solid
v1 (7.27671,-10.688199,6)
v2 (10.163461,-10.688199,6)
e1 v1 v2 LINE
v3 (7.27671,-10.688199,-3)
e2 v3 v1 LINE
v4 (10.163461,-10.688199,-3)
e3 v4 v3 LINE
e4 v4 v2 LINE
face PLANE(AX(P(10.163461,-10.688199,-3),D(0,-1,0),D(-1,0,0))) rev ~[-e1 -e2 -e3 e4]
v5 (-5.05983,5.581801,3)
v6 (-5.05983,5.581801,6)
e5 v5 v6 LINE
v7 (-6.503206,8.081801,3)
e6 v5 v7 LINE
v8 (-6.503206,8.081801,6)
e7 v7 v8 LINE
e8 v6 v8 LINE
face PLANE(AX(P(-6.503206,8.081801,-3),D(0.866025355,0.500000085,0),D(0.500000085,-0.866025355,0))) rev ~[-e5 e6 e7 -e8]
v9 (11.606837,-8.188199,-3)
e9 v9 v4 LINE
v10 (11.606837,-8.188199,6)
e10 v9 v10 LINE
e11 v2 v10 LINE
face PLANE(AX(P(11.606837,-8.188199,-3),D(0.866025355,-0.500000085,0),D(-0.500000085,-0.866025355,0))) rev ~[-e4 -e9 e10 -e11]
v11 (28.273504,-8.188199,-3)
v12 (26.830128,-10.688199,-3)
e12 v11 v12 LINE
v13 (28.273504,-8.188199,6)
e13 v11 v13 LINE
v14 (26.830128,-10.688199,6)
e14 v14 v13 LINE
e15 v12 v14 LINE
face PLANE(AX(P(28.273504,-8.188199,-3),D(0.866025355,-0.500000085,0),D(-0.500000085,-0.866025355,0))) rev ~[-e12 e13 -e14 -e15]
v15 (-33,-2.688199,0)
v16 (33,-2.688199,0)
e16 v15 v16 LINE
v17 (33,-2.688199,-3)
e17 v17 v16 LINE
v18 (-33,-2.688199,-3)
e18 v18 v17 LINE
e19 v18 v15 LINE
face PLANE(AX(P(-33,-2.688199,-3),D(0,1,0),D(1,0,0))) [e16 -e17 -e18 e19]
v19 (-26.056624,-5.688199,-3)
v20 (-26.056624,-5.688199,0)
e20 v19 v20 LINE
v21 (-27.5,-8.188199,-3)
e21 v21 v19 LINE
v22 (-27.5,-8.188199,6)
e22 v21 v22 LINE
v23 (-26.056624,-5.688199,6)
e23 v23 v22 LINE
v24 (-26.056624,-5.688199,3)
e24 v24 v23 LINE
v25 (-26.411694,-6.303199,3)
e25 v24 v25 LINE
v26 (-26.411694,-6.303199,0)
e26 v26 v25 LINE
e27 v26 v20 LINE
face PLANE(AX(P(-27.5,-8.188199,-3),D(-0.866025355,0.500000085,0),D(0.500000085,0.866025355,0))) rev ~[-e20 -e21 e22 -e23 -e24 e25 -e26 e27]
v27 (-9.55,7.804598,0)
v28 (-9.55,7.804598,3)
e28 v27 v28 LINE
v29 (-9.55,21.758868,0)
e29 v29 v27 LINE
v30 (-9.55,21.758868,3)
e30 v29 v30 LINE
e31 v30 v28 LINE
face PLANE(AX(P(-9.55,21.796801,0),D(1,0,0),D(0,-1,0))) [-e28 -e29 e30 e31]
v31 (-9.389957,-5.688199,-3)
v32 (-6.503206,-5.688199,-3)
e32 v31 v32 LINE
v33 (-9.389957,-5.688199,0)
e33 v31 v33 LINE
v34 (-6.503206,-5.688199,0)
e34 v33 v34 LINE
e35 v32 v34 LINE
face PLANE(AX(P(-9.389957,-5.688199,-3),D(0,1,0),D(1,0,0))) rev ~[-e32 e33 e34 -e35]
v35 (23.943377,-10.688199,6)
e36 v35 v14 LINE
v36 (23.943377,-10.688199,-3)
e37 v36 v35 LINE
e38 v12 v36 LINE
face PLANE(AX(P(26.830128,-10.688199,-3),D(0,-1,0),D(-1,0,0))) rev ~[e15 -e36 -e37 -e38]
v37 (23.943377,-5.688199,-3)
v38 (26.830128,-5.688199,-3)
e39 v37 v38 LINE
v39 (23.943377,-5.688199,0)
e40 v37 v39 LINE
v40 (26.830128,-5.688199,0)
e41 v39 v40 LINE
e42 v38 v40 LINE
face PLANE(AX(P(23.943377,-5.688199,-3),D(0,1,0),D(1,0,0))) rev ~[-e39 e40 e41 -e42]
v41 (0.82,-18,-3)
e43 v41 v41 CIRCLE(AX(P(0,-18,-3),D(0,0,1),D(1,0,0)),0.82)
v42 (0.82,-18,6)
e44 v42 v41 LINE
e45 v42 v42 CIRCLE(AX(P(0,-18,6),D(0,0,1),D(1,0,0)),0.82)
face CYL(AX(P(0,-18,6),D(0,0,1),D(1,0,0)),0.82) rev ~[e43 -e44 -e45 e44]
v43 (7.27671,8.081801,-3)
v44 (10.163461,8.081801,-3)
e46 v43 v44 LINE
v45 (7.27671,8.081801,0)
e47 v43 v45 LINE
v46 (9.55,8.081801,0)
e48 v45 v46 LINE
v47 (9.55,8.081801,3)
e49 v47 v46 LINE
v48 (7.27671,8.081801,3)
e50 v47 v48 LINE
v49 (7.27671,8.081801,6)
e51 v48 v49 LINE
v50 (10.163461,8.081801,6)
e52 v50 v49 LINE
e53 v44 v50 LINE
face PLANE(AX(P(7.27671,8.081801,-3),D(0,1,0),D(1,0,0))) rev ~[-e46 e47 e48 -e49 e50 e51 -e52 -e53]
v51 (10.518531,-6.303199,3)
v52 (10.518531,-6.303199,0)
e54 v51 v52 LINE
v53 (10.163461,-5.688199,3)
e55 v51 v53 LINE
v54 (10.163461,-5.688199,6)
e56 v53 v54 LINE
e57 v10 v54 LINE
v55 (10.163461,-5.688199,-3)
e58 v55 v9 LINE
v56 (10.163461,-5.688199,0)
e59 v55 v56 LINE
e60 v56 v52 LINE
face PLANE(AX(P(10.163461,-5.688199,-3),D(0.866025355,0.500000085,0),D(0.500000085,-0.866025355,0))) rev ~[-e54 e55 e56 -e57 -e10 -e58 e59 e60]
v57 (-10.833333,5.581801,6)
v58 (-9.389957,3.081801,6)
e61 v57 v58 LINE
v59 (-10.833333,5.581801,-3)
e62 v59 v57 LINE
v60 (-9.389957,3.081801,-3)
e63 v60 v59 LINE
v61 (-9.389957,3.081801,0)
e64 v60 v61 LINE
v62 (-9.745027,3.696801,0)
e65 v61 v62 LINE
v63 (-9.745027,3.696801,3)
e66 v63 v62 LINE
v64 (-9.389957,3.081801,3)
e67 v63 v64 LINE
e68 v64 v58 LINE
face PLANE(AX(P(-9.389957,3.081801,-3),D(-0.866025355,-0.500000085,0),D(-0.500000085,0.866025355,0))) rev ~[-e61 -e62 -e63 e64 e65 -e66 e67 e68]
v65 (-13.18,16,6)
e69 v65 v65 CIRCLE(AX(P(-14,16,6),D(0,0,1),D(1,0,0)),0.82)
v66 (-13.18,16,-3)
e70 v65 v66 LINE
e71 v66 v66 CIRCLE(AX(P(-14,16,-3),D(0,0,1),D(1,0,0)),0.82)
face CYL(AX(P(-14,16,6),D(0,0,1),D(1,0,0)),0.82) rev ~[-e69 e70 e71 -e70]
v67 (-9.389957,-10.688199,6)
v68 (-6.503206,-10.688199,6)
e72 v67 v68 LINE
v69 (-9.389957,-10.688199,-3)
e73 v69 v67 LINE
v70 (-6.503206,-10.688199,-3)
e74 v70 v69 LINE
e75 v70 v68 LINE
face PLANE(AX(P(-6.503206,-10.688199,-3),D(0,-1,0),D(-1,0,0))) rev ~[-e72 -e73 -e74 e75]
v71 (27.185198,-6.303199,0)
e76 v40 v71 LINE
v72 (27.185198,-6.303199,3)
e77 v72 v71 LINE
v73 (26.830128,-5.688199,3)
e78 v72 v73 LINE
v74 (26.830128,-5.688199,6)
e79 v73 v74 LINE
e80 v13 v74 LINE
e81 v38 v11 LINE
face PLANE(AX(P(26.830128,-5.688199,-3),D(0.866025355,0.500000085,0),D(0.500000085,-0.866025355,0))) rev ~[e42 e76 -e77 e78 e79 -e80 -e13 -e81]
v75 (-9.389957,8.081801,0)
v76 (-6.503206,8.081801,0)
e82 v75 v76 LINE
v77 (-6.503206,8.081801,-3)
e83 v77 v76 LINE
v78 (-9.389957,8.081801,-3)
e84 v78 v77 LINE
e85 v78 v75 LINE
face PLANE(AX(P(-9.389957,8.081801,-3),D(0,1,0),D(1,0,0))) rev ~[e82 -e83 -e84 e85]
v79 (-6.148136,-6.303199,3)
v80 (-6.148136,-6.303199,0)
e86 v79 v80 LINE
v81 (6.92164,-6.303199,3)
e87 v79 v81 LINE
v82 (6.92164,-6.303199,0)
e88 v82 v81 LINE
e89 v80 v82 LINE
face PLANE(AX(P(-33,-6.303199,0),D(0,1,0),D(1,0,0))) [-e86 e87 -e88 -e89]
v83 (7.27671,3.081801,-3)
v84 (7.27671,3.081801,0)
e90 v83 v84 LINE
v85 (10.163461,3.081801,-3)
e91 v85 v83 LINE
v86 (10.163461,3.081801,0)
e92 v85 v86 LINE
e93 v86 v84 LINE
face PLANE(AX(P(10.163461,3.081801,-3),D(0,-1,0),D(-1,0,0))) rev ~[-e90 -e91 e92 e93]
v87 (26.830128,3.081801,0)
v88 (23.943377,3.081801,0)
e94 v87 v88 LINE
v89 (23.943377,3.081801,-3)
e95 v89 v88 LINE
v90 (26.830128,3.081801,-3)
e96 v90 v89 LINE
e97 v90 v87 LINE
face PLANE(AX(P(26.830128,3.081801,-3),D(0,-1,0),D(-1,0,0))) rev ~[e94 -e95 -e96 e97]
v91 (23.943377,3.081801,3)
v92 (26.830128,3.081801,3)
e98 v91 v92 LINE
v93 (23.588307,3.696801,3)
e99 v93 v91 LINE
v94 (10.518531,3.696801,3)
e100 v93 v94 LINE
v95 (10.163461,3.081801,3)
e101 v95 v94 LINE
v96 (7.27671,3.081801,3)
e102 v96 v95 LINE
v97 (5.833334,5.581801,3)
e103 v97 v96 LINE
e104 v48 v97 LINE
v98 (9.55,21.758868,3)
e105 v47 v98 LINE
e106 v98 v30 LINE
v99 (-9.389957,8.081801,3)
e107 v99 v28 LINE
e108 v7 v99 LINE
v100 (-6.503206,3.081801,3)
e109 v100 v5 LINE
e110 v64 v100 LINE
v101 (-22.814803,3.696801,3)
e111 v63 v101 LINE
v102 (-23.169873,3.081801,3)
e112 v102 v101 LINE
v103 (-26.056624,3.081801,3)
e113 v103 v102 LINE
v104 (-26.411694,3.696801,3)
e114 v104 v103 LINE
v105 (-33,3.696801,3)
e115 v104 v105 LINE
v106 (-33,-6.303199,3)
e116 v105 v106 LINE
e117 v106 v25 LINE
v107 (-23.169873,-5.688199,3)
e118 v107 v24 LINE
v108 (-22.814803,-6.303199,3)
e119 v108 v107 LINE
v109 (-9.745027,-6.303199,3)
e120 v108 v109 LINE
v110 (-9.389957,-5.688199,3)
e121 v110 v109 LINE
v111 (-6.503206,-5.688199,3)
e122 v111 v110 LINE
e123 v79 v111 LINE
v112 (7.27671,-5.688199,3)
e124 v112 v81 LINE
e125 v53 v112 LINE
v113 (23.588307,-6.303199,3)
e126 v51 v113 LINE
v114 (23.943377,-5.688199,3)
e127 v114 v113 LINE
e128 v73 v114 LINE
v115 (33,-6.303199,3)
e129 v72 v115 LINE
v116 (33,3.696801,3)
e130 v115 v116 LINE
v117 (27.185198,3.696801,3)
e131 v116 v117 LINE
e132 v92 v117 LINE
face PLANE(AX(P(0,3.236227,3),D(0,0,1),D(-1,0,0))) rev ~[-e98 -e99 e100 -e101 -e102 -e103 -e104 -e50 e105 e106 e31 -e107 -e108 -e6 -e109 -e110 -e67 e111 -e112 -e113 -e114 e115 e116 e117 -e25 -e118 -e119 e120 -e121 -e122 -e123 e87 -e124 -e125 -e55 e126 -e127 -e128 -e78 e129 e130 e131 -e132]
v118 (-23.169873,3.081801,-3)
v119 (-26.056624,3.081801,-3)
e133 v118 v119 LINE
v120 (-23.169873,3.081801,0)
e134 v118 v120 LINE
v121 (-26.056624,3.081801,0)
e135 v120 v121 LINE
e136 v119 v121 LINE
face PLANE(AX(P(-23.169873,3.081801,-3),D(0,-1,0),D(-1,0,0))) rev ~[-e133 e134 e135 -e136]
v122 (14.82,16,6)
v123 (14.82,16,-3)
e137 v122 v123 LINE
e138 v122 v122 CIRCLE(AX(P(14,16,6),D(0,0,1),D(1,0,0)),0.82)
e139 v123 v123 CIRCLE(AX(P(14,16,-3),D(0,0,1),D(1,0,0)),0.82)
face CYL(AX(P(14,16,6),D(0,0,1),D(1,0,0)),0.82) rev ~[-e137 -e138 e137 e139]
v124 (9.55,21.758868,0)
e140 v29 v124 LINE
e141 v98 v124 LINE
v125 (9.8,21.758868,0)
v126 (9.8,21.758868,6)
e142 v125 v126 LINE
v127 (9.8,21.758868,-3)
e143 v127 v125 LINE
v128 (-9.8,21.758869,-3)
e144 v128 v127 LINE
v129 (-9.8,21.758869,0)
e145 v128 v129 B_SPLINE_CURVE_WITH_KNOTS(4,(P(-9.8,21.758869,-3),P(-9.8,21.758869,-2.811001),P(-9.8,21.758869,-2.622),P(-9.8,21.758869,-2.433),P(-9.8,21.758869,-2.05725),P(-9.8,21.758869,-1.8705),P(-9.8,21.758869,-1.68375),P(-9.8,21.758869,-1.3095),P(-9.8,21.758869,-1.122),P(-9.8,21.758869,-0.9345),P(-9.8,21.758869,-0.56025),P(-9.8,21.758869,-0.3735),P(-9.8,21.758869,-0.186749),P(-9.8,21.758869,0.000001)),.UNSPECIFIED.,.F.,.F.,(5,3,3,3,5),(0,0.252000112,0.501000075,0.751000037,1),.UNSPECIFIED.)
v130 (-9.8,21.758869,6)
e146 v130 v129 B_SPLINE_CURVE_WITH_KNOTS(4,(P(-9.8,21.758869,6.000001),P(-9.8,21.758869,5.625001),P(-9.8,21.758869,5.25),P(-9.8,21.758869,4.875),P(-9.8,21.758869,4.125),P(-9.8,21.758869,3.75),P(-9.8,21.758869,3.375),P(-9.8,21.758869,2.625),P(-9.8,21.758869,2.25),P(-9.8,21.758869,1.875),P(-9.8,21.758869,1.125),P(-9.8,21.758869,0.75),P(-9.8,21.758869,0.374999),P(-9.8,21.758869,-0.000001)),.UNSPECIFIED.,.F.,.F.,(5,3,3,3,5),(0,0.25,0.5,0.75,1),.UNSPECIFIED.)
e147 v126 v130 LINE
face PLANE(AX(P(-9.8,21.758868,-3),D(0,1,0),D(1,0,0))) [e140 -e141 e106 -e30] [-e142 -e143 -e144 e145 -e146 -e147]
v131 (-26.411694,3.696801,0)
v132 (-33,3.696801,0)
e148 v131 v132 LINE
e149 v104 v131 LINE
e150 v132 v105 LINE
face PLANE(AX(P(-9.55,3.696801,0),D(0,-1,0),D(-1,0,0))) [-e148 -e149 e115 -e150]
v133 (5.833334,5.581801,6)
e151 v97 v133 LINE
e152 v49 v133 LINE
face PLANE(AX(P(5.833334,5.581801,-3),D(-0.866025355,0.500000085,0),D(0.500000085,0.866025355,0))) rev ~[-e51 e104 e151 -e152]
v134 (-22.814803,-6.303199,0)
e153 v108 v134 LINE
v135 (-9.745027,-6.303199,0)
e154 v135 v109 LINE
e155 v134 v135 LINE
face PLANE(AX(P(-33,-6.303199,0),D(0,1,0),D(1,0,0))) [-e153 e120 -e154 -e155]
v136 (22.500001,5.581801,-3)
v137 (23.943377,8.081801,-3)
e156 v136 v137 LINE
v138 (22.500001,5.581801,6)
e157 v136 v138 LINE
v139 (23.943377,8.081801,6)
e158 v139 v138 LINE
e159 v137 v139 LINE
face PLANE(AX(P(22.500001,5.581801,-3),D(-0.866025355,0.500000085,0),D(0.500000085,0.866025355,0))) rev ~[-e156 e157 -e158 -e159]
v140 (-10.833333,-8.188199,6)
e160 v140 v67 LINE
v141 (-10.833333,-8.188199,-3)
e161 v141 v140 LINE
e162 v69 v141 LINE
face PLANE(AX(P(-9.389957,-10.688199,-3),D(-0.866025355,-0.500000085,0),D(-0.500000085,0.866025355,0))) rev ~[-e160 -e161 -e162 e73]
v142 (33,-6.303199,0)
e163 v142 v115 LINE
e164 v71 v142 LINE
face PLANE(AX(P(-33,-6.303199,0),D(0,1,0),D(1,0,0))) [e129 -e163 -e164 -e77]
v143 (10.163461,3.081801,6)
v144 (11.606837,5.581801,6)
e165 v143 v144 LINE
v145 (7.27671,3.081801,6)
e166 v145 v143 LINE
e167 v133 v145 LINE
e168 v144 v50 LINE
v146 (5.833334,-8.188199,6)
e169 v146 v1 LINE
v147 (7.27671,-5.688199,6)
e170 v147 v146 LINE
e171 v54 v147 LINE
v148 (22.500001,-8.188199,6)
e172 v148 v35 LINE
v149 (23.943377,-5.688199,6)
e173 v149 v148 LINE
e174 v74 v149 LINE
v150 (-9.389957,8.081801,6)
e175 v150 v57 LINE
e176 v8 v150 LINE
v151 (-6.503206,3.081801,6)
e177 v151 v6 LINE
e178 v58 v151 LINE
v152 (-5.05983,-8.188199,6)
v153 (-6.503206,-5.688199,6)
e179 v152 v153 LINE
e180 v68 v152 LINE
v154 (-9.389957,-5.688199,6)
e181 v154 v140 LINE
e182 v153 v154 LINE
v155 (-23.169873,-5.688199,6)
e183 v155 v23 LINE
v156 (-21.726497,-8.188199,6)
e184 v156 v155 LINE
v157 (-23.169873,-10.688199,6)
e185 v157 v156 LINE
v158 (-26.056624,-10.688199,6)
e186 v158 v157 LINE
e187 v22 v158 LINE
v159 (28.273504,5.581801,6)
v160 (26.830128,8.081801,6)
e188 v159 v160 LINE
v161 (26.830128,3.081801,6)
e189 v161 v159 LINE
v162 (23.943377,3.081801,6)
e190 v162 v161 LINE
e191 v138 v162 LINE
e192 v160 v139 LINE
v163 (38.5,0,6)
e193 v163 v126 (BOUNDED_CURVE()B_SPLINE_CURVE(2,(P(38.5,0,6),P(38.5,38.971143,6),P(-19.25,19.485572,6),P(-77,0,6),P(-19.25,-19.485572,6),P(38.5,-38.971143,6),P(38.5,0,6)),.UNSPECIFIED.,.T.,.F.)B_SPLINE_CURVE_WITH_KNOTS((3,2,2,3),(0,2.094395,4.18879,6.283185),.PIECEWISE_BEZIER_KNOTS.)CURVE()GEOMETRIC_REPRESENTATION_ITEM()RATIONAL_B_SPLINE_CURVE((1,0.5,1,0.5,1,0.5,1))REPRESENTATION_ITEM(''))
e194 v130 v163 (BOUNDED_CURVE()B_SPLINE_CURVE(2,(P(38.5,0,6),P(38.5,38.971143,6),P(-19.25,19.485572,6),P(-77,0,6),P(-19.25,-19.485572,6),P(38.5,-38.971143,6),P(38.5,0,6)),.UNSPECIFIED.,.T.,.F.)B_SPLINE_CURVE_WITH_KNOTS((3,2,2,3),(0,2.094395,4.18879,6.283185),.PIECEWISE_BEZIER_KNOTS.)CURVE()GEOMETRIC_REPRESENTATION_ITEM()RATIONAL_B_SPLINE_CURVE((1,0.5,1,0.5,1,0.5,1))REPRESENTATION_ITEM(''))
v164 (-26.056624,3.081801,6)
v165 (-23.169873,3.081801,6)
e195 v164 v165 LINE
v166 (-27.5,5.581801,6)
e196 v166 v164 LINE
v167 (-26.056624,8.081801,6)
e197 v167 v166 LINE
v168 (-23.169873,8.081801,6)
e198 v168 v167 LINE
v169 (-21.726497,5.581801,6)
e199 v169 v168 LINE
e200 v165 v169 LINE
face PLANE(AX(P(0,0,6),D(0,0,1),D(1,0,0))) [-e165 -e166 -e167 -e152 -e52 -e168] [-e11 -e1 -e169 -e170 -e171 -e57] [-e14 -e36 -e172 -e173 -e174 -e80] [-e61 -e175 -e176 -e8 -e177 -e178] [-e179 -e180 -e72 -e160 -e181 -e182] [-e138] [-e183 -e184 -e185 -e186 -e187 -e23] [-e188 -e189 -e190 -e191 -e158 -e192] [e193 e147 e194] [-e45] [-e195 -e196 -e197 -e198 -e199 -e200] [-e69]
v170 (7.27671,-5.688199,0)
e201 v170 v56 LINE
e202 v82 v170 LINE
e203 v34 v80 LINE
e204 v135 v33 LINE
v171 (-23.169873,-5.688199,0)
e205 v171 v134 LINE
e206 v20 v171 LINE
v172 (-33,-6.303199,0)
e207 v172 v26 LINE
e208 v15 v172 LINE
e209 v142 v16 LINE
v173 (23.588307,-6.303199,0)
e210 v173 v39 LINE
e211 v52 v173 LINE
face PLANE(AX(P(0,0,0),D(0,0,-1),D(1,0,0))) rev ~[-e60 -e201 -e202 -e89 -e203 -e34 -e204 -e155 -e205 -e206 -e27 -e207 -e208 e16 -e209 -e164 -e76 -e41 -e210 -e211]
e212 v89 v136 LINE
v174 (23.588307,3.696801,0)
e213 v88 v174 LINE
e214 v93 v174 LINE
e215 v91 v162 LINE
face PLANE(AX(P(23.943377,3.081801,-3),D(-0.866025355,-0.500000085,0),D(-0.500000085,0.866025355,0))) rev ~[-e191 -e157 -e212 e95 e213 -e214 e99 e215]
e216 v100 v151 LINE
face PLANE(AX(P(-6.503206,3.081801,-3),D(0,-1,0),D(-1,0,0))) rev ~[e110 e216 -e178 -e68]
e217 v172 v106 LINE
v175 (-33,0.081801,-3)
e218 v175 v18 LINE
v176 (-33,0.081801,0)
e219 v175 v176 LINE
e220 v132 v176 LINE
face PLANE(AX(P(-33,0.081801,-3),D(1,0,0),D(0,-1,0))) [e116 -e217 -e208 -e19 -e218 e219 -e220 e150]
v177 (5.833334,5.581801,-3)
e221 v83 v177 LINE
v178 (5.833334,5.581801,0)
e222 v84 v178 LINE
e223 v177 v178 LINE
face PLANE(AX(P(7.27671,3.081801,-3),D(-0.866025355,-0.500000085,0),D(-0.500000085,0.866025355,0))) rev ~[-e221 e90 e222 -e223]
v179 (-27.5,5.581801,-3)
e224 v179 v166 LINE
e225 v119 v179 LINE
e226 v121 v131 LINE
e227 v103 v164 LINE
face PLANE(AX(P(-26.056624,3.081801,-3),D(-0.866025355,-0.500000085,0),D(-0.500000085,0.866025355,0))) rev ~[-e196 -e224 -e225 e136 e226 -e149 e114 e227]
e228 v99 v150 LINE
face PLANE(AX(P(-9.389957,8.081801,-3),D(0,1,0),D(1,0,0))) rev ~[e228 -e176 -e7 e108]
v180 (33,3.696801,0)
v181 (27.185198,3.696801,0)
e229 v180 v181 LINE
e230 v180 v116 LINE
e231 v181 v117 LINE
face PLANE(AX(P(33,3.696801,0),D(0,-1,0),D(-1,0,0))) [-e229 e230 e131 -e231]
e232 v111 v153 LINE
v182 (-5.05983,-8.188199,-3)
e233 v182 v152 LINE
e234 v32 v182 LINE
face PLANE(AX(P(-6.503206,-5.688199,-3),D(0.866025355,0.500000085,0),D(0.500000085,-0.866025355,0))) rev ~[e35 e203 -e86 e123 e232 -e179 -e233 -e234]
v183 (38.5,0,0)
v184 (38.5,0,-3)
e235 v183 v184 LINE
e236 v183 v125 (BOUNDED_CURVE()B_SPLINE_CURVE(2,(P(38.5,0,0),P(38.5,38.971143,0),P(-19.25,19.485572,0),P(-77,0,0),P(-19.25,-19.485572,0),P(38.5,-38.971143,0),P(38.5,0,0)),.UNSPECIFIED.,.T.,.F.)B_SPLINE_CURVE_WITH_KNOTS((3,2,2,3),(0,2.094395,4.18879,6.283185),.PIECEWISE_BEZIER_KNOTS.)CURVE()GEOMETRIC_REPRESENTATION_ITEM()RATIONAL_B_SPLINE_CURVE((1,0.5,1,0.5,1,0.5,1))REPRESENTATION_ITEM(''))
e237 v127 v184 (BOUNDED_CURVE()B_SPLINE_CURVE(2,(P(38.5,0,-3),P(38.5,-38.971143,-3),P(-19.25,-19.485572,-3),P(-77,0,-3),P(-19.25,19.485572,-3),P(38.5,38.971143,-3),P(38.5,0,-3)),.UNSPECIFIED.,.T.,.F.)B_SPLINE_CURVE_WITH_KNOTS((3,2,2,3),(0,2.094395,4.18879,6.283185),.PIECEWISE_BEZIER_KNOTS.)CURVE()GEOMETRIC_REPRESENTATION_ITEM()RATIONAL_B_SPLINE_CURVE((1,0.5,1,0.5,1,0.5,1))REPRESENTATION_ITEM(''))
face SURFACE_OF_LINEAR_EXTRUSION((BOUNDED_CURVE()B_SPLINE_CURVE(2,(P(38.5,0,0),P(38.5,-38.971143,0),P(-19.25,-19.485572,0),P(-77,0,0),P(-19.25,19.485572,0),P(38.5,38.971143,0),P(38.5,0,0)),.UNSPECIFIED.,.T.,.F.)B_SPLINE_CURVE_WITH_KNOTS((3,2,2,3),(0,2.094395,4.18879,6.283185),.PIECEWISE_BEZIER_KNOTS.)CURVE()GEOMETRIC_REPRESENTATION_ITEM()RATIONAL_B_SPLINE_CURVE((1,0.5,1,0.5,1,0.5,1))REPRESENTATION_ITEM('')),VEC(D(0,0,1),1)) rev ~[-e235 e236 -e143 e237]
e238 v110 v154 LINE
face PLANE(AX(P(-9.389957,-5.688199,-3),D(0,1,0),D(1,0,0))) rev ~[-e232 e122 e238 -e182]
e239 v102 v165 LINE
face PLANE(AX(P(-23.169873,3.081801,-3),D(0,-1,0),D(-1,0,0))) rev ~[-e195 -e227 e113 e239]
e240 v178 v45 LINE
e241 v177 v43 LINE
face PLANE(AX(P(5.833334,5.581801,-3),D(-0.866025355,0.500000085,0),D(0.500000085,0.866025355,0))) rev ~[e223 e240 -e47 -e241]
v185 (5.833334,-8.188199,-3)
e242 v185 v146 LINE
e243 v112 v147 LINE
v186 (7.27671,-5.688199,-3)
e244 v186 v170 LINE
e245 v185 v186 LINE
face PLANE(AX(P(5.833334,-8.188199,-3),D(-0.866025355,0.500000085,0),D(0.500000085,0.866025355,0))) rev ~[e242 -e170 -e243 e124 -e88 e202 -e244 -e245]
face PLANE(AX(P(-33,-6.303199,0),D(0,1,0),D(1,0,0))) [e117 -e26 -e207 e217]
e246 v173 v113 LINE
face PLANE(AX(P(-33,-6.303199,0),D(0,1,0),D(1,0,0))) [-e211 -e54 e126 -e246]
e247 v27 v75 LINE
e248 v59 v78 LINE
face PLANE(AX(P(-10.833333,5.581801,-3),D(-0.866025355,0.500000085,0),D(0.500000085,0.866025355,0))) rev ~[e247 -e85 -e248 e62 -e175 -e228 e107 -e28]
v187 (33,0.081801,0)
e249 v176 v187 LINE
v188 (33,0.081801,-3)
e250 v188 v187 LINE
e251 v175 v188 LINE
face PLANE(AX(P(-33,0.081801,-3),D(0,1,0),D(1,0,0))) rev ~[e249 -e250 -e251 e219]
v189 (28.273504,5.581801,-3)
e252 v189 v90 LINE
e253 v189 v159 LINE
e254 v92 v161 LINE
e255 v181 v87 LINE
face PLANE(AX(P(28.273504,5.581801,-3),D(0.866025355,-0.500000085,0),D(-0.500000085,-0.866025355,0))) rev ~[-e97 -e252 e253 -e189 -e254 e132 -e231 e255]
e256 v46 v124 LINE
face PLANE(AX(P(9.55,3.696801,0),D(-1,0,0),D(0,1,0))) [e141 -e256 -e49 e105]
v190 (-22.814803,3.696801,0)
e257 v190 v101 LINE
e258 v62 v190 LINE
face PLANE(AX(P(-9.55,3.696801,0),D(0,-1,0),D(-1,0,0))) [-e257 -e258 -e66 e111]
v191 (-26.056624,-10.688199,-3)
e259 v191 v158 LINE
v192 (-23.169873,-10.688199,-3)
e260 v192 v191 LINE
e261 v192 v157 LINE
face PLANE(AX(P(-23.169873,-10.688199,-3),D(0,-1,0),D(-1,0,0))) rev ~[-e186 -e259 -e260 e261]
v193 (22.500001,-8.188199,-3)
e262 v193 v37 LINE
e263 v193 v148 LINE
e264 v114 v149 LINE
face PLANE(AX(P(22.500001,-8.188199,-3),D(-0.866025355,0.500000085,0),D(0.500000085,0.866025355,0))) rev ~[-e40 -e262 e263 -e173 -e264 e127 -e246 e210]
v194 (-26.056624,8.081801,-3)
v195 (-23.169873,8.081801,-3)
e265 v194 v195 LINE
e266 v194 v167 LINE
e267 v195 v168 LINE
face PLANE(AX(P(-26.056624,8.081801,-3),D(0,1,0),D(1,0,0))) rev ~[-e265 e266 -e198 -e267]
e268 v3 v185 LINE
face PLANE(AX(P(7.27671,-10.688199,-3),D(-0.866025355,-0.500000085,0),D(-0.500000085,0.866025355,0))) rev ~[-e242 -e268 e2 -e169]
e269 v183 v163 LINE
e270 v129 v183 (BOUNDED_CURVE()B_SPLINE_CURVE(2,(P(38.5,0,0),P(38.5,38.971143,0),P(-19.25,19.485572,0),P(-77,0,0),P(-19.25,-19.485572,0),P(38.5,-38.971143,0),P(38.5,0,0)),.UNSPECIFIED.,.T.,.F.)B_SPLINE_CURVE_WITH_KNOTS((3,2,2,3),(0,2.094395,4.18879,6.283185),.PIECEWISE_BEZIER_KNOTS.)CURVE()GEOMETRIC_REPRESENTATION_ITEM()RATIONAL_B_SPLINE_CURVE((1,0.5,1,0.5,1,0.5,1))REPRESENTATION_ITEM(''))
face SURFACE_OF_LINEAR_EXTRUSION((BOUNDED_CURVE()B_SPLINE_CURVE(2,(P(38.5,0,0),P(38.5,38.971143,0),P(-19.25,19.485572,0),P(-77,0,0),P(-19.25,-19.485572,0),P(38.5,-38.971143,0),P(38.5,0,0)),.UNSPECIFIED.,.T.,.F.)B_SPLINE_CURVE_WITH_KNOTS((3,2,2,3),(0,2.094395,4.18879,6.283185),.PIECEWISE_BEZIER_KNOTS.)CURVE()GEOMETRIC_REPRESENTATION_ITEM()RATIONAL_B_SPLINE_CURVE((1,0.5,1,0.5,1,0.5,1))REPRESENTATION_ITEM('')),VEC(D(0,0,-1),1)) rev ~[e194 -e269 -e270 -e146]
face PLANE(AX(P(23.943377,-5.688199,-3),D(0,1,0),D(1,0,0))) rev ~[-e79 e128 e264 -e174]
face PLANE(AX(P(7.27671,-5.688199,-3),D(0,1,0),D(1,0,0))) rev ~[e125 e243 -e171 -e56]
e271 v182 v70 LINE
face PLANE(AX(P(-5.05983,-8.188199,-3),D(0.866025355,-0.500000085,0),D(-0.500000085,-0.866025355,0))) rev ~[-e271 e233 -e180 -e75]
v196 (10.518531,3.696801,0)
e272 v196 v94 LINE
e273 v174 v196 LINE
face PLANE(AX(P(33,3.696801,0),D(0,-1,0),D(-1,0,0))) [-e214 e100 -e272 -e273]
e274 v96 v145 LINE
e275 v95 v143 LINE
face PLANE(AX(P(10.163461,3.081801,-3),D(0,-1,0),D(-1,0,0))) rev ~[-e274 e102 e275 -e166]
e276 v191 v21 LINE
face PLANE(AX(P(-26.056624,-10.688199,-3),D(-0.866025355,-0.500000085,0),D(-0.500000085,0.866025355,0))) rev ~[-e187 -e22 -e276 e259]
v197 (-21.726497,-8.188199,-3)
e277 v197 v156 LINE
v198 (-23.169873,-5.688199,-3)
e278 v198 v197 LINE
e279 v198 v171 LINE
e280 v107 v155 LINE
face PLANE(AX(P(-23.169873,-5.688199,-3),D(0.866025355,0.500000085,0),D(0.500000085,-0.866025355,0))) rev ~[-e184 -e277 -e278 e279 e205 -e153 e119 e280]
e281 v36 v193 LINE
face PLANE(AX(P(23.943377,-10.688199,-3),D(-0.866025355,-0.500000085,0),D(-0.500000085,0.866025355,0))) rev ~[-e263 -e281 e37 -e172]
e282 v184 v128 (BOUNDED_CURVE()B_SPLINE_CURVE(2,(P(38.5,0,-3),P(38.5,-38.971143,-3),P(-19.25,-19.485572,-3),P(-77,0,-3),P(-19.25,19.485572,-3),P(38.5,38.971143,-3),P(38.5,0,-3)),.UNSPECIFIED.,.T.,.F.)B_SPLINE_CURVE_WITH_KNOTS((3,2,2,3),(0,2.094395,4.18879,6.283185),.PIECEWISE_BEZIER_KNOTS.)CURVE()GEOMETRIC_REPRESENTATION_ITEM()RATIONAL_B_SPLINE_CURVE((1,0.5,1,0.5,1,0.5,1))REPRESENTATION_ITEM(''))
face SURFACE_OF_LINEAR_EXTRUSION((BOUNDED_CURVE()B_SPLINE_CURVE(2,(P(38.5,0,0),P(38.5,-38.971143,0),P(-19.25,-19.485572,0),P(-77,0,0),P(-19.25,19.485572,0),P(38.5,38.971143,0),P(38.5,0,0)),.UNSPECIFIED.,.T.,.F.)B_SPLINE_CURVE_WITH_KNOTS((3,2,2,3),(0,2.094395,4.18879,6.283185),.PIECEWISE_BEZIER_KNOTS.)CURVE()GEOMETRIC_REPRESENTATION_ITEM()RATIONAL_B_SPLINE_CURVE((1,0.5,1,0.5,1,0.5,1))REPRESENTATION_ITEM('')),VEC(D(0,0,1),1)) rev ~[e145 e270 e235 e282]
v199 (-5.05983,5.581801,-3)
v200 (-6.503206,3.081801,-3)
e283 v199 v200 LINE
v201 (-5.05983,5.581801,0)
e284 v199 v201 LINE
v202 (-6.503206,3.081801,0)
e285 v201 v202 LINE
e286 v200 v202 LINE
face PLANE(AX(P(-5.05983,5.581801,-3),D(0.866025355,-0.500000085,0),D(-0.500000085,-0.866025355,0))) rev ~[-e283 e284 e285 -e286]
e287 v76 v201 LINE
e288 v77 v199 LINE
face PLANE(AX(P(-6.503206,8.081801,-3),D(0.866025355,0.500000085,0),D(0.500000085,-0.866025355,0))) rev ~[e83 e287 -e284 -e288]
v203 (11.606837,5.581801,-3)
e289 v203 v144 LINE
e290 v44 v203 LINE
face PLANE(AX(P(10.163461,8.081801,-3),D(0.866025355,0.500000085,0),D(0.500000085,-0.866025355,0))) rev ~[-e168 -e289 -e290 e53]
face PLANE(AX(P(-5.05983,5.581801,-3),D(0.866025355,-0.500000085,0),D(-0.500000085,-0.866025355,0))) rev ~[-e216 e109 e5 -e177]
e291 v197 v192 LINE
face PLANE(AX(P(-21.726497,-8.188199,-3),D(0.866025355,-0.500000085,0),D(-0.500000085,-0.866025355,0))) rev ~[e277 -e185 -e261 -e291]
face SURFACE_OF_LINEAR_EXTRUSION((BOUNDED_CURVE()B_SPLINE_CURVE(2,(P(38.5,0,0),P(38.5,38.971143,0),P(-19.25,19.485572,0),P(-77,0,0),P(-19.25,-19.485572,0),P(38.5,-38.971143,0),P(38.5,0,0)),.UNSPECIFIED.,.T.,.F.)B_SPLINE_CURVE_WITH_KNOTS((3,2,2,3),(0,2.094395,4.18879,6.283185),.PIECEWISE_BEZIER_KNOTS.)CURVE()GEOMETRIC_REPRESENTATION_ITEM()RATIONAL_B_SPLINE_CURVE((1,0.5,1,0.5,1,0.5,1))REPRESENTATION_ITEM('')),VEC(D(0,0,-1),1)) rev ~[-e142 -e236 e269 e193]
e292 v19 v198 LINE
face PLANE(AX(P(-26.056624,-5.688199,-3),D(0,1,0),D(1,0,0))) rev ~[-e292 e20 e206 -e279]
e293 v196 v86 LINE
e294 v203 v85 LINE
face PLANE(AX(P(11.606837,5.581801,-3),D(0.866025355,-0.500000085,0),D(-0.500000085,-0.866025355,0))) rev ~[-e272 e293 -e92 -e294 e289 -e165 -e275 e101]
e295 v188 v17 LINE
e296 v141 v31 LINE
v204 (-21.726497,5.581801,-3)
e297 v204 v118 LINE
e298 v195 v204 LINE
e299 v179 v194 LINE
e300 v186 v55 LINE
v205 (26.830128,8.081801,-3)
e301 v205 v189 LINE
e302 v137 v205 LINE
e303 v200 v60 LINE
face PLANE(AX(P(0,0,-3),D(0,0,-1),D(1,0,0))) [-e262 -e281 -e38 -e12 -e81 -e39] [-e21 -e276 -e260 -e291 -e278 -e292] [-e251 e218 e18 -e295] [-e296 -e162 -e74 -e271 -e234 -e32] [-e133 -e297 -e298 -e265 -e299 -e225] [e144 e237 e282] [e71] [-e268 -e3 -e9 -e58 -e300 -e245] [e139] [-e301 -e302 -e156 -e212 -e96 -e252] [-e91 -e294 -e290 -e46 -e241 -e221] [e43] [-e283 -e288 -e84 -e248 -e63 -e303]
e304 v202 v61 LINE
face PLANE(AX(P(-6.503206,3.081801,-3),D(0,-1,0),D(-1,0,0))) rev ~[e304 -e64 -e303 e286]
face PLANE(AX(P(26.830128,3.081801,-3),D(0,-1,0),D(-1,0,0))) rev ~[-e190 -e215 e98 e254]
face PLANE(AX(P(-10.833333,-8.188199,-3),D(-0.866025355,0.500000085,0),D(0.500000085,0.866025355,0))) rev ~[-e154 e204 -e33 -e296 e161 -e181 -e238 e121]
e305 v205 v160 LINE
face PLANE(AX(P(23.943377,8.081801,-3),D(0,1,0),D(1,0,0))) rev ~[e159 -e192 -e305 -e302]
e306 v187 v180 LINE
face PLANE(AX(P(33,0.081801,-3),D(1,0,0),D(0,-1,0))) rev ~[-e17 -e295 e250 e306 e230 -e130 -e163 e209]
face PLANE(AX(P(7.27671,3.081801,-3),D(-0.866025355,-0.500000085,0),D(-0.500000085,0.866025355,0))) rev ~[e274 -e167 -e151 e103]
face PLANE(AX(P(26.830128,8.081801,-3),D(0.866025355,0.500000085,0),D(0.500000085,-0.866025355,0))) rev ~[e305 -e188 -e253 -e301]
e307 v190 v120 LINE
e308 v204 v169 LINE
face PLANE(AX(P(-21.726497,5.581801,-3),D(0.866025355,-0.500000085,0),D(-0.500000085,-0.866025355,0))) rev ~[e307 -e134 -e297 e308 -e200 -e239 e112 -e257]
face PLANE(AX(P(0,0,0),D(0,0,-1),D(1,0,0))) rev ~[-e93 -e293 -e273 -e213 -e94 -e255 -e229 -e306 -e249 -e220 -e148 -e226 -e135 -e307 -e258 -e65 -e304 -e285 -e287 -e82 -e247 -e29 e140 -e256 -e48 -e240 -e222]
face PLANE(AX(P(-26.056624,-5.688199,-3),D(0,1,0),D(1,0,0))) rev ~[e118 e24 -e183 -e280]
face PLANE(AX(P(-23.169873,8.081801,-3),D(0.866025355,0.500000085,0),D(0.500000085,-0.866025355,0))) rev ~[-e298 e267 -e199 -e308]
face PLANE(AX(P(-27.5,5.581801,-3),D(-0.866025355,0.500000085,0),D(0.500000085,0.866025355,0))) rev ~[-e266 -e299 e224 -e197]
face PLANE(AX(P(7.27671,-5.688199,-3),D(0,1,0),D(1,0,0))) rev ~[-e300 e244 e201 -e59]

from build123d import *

# Parameters (mm, degrees)
PAD_DEPTH           = 6
POCKET_DEPTH        = 3
PAD001_DEPTH        = 3
SKETCH003_W         = 66
SKETCH003_H         = 2.77
POCKET001_DEPTH     = 3
SKETCH004_W         = 19.6
SKETCH004_H         = 1
POCKET002_DEPTH     = 9.001
SKETCH005_R         = 0.82
POCKET003_DEPTH     = 9.001
POCKET004_DEPTH     = 9.001
LINEARPATTERN_COUNT = 4
LINEARPATTERN_PITCH = 16.666667


with BuildPart() as part:
    # Sketch → Pad (new body)
    with BuildSketch(Plane.XY):
        with BuildLine():
            add(Edge.make_bspline(
                [(38.5, 0), (38.5, 38.971143), (-19.25, 19.485572), (-77, 0), (-19.25, -19.485572), (38.5, -38.971143), (38.5, 0)],
                knots=[0, 0, 0, 2.094395, 2.094395, 4.18879, 4.18879, 6.283185, 6.283185, 6.283185], degree=2, weights=[1, 0.5, 1, 0.5, 1, 0.5, 1]))
        make_face()
    extrude(amount=PAD_DEPTH)

    # Sketch001 (on Face2 of Pad) → Pocket (cut)
    with BuildSketch(Plane(origin=(0, 0, 0), x_dir=(1, 0, 0), z_dir=(0, 0, -1))):
        Polygon((9.55, -3.696801), (9.55, -21.796801), (-9.55, -21.796801), (-9.55, -3.696801), (-33, -3.696801), (-33, 6.303199), (33, 6.303199), (33, -3.696801), align=None)
    extrude(amount=-POCKET_DEPTH, mode=Mode.SUBTRACT)

    # Sketch002 (on Face2 of Pocket) → Pad001 (join)
    with BuildSketch(Plane(origin=(0, 0, 0), x_dir=(1, 0, 0), z_dir=(0, 0, -1))):
        with BuildLine():
            add(Edge.make_bspline(
                [(38.5, 0), (38.5, 38.971143), (-19.25, 19.485572), (-77, 0), (-19.25, -19.485572), (38.5, -38.971143), (38.5, 0)],
                knots=[0, 0, 0, 2.094395, 2.094395, 4.18879, 4.18879, 6.283185, 6.283185, 6.283185], degree=2, weights=[1, 0.5, 1, 0.5, 1, 0.5, 1]))
        make_face()
    extrude(amount=PAD001_DEPTH)

    # Sketch003 (on Face4 of Pad001) → Pocket001 (cut)
    with BuildSketch(Plane(origin=(0, 0, -3), x_dir=(1, 0, 0), z_dir=(0, 0, -1))):
        with Locations((0, 1.303199)):
            Rectangle(SKETCH003_W, SKETCH003_H)
    extrude(amount=-POCKET001_DEPTH, mode=Mode.SUBTRACT)

    # Sketch004 (on Face4 of Pocket001) → Pocket002 (cut, through all)
    with BuildSketch(Plane(origin=(0, 0, -3), x_dir=(1, 0, 0), z_dir=(0, 0, -1))):
        with Locations((0, -22.258868)):
            Rectangle(SKETCH004_W, SKETCH004_H)
    extrude(amount=-POCKET002_DEPTH, mode=Mode.SUBTRACT)

    # Sketch005 (on Face4 of Pocket002) → Pocket003 (cut, through all)
    with BuildSketch(Plane.XY.offset(6)):
        with Locations((-14, 16)):
            Circle(SKETCH005_R)
        with Locations((14, 16)):
            Circle(SKETCH005_R)
        with Locations((0, -18)):
            Circle(SKETCH005_R)
    extrude(amount=-POCKET003_DEPTH, mode=Mode.SUBTRACT)

    # Sketch006 (on Face7 of Pocket003) → Pocket004 (cut, through all)
    with BuildSketch(Plane(origin=(0, 0, -3), x_dir=(1, 0, 0), z_dir=(0, 0, -1))):
        Polygon((-21.726497, -5.581801), (-23.169873, -3.081801), (-26.056624, -3.081801), (-27.5, -5.581801), (-26.056624, -8.081801), (-23.169873, -8.081801), align=None)
        Polygon((-23.169873, 5.688199), (-21.726497, 8.188199), (-23.169873, 10.688199), (-26.056624, 10.688199), (-27.5, 8.188199), (-26.056624, 5.688199), align=None)
    pocket004 = extrude(amount=-POCKET004_DEPTH, mode=Mode.SUBTRACT)

    # LinearPattern: Pocket004 ×4
    with Locations(*[(i * LINEARPATTERN_PITCH, 0, 0) for i in range(1, LINEARPATTERN_COUNT)]):
        add(pocket004, mode=Mode.SUBTRACT)


solid = part.part
